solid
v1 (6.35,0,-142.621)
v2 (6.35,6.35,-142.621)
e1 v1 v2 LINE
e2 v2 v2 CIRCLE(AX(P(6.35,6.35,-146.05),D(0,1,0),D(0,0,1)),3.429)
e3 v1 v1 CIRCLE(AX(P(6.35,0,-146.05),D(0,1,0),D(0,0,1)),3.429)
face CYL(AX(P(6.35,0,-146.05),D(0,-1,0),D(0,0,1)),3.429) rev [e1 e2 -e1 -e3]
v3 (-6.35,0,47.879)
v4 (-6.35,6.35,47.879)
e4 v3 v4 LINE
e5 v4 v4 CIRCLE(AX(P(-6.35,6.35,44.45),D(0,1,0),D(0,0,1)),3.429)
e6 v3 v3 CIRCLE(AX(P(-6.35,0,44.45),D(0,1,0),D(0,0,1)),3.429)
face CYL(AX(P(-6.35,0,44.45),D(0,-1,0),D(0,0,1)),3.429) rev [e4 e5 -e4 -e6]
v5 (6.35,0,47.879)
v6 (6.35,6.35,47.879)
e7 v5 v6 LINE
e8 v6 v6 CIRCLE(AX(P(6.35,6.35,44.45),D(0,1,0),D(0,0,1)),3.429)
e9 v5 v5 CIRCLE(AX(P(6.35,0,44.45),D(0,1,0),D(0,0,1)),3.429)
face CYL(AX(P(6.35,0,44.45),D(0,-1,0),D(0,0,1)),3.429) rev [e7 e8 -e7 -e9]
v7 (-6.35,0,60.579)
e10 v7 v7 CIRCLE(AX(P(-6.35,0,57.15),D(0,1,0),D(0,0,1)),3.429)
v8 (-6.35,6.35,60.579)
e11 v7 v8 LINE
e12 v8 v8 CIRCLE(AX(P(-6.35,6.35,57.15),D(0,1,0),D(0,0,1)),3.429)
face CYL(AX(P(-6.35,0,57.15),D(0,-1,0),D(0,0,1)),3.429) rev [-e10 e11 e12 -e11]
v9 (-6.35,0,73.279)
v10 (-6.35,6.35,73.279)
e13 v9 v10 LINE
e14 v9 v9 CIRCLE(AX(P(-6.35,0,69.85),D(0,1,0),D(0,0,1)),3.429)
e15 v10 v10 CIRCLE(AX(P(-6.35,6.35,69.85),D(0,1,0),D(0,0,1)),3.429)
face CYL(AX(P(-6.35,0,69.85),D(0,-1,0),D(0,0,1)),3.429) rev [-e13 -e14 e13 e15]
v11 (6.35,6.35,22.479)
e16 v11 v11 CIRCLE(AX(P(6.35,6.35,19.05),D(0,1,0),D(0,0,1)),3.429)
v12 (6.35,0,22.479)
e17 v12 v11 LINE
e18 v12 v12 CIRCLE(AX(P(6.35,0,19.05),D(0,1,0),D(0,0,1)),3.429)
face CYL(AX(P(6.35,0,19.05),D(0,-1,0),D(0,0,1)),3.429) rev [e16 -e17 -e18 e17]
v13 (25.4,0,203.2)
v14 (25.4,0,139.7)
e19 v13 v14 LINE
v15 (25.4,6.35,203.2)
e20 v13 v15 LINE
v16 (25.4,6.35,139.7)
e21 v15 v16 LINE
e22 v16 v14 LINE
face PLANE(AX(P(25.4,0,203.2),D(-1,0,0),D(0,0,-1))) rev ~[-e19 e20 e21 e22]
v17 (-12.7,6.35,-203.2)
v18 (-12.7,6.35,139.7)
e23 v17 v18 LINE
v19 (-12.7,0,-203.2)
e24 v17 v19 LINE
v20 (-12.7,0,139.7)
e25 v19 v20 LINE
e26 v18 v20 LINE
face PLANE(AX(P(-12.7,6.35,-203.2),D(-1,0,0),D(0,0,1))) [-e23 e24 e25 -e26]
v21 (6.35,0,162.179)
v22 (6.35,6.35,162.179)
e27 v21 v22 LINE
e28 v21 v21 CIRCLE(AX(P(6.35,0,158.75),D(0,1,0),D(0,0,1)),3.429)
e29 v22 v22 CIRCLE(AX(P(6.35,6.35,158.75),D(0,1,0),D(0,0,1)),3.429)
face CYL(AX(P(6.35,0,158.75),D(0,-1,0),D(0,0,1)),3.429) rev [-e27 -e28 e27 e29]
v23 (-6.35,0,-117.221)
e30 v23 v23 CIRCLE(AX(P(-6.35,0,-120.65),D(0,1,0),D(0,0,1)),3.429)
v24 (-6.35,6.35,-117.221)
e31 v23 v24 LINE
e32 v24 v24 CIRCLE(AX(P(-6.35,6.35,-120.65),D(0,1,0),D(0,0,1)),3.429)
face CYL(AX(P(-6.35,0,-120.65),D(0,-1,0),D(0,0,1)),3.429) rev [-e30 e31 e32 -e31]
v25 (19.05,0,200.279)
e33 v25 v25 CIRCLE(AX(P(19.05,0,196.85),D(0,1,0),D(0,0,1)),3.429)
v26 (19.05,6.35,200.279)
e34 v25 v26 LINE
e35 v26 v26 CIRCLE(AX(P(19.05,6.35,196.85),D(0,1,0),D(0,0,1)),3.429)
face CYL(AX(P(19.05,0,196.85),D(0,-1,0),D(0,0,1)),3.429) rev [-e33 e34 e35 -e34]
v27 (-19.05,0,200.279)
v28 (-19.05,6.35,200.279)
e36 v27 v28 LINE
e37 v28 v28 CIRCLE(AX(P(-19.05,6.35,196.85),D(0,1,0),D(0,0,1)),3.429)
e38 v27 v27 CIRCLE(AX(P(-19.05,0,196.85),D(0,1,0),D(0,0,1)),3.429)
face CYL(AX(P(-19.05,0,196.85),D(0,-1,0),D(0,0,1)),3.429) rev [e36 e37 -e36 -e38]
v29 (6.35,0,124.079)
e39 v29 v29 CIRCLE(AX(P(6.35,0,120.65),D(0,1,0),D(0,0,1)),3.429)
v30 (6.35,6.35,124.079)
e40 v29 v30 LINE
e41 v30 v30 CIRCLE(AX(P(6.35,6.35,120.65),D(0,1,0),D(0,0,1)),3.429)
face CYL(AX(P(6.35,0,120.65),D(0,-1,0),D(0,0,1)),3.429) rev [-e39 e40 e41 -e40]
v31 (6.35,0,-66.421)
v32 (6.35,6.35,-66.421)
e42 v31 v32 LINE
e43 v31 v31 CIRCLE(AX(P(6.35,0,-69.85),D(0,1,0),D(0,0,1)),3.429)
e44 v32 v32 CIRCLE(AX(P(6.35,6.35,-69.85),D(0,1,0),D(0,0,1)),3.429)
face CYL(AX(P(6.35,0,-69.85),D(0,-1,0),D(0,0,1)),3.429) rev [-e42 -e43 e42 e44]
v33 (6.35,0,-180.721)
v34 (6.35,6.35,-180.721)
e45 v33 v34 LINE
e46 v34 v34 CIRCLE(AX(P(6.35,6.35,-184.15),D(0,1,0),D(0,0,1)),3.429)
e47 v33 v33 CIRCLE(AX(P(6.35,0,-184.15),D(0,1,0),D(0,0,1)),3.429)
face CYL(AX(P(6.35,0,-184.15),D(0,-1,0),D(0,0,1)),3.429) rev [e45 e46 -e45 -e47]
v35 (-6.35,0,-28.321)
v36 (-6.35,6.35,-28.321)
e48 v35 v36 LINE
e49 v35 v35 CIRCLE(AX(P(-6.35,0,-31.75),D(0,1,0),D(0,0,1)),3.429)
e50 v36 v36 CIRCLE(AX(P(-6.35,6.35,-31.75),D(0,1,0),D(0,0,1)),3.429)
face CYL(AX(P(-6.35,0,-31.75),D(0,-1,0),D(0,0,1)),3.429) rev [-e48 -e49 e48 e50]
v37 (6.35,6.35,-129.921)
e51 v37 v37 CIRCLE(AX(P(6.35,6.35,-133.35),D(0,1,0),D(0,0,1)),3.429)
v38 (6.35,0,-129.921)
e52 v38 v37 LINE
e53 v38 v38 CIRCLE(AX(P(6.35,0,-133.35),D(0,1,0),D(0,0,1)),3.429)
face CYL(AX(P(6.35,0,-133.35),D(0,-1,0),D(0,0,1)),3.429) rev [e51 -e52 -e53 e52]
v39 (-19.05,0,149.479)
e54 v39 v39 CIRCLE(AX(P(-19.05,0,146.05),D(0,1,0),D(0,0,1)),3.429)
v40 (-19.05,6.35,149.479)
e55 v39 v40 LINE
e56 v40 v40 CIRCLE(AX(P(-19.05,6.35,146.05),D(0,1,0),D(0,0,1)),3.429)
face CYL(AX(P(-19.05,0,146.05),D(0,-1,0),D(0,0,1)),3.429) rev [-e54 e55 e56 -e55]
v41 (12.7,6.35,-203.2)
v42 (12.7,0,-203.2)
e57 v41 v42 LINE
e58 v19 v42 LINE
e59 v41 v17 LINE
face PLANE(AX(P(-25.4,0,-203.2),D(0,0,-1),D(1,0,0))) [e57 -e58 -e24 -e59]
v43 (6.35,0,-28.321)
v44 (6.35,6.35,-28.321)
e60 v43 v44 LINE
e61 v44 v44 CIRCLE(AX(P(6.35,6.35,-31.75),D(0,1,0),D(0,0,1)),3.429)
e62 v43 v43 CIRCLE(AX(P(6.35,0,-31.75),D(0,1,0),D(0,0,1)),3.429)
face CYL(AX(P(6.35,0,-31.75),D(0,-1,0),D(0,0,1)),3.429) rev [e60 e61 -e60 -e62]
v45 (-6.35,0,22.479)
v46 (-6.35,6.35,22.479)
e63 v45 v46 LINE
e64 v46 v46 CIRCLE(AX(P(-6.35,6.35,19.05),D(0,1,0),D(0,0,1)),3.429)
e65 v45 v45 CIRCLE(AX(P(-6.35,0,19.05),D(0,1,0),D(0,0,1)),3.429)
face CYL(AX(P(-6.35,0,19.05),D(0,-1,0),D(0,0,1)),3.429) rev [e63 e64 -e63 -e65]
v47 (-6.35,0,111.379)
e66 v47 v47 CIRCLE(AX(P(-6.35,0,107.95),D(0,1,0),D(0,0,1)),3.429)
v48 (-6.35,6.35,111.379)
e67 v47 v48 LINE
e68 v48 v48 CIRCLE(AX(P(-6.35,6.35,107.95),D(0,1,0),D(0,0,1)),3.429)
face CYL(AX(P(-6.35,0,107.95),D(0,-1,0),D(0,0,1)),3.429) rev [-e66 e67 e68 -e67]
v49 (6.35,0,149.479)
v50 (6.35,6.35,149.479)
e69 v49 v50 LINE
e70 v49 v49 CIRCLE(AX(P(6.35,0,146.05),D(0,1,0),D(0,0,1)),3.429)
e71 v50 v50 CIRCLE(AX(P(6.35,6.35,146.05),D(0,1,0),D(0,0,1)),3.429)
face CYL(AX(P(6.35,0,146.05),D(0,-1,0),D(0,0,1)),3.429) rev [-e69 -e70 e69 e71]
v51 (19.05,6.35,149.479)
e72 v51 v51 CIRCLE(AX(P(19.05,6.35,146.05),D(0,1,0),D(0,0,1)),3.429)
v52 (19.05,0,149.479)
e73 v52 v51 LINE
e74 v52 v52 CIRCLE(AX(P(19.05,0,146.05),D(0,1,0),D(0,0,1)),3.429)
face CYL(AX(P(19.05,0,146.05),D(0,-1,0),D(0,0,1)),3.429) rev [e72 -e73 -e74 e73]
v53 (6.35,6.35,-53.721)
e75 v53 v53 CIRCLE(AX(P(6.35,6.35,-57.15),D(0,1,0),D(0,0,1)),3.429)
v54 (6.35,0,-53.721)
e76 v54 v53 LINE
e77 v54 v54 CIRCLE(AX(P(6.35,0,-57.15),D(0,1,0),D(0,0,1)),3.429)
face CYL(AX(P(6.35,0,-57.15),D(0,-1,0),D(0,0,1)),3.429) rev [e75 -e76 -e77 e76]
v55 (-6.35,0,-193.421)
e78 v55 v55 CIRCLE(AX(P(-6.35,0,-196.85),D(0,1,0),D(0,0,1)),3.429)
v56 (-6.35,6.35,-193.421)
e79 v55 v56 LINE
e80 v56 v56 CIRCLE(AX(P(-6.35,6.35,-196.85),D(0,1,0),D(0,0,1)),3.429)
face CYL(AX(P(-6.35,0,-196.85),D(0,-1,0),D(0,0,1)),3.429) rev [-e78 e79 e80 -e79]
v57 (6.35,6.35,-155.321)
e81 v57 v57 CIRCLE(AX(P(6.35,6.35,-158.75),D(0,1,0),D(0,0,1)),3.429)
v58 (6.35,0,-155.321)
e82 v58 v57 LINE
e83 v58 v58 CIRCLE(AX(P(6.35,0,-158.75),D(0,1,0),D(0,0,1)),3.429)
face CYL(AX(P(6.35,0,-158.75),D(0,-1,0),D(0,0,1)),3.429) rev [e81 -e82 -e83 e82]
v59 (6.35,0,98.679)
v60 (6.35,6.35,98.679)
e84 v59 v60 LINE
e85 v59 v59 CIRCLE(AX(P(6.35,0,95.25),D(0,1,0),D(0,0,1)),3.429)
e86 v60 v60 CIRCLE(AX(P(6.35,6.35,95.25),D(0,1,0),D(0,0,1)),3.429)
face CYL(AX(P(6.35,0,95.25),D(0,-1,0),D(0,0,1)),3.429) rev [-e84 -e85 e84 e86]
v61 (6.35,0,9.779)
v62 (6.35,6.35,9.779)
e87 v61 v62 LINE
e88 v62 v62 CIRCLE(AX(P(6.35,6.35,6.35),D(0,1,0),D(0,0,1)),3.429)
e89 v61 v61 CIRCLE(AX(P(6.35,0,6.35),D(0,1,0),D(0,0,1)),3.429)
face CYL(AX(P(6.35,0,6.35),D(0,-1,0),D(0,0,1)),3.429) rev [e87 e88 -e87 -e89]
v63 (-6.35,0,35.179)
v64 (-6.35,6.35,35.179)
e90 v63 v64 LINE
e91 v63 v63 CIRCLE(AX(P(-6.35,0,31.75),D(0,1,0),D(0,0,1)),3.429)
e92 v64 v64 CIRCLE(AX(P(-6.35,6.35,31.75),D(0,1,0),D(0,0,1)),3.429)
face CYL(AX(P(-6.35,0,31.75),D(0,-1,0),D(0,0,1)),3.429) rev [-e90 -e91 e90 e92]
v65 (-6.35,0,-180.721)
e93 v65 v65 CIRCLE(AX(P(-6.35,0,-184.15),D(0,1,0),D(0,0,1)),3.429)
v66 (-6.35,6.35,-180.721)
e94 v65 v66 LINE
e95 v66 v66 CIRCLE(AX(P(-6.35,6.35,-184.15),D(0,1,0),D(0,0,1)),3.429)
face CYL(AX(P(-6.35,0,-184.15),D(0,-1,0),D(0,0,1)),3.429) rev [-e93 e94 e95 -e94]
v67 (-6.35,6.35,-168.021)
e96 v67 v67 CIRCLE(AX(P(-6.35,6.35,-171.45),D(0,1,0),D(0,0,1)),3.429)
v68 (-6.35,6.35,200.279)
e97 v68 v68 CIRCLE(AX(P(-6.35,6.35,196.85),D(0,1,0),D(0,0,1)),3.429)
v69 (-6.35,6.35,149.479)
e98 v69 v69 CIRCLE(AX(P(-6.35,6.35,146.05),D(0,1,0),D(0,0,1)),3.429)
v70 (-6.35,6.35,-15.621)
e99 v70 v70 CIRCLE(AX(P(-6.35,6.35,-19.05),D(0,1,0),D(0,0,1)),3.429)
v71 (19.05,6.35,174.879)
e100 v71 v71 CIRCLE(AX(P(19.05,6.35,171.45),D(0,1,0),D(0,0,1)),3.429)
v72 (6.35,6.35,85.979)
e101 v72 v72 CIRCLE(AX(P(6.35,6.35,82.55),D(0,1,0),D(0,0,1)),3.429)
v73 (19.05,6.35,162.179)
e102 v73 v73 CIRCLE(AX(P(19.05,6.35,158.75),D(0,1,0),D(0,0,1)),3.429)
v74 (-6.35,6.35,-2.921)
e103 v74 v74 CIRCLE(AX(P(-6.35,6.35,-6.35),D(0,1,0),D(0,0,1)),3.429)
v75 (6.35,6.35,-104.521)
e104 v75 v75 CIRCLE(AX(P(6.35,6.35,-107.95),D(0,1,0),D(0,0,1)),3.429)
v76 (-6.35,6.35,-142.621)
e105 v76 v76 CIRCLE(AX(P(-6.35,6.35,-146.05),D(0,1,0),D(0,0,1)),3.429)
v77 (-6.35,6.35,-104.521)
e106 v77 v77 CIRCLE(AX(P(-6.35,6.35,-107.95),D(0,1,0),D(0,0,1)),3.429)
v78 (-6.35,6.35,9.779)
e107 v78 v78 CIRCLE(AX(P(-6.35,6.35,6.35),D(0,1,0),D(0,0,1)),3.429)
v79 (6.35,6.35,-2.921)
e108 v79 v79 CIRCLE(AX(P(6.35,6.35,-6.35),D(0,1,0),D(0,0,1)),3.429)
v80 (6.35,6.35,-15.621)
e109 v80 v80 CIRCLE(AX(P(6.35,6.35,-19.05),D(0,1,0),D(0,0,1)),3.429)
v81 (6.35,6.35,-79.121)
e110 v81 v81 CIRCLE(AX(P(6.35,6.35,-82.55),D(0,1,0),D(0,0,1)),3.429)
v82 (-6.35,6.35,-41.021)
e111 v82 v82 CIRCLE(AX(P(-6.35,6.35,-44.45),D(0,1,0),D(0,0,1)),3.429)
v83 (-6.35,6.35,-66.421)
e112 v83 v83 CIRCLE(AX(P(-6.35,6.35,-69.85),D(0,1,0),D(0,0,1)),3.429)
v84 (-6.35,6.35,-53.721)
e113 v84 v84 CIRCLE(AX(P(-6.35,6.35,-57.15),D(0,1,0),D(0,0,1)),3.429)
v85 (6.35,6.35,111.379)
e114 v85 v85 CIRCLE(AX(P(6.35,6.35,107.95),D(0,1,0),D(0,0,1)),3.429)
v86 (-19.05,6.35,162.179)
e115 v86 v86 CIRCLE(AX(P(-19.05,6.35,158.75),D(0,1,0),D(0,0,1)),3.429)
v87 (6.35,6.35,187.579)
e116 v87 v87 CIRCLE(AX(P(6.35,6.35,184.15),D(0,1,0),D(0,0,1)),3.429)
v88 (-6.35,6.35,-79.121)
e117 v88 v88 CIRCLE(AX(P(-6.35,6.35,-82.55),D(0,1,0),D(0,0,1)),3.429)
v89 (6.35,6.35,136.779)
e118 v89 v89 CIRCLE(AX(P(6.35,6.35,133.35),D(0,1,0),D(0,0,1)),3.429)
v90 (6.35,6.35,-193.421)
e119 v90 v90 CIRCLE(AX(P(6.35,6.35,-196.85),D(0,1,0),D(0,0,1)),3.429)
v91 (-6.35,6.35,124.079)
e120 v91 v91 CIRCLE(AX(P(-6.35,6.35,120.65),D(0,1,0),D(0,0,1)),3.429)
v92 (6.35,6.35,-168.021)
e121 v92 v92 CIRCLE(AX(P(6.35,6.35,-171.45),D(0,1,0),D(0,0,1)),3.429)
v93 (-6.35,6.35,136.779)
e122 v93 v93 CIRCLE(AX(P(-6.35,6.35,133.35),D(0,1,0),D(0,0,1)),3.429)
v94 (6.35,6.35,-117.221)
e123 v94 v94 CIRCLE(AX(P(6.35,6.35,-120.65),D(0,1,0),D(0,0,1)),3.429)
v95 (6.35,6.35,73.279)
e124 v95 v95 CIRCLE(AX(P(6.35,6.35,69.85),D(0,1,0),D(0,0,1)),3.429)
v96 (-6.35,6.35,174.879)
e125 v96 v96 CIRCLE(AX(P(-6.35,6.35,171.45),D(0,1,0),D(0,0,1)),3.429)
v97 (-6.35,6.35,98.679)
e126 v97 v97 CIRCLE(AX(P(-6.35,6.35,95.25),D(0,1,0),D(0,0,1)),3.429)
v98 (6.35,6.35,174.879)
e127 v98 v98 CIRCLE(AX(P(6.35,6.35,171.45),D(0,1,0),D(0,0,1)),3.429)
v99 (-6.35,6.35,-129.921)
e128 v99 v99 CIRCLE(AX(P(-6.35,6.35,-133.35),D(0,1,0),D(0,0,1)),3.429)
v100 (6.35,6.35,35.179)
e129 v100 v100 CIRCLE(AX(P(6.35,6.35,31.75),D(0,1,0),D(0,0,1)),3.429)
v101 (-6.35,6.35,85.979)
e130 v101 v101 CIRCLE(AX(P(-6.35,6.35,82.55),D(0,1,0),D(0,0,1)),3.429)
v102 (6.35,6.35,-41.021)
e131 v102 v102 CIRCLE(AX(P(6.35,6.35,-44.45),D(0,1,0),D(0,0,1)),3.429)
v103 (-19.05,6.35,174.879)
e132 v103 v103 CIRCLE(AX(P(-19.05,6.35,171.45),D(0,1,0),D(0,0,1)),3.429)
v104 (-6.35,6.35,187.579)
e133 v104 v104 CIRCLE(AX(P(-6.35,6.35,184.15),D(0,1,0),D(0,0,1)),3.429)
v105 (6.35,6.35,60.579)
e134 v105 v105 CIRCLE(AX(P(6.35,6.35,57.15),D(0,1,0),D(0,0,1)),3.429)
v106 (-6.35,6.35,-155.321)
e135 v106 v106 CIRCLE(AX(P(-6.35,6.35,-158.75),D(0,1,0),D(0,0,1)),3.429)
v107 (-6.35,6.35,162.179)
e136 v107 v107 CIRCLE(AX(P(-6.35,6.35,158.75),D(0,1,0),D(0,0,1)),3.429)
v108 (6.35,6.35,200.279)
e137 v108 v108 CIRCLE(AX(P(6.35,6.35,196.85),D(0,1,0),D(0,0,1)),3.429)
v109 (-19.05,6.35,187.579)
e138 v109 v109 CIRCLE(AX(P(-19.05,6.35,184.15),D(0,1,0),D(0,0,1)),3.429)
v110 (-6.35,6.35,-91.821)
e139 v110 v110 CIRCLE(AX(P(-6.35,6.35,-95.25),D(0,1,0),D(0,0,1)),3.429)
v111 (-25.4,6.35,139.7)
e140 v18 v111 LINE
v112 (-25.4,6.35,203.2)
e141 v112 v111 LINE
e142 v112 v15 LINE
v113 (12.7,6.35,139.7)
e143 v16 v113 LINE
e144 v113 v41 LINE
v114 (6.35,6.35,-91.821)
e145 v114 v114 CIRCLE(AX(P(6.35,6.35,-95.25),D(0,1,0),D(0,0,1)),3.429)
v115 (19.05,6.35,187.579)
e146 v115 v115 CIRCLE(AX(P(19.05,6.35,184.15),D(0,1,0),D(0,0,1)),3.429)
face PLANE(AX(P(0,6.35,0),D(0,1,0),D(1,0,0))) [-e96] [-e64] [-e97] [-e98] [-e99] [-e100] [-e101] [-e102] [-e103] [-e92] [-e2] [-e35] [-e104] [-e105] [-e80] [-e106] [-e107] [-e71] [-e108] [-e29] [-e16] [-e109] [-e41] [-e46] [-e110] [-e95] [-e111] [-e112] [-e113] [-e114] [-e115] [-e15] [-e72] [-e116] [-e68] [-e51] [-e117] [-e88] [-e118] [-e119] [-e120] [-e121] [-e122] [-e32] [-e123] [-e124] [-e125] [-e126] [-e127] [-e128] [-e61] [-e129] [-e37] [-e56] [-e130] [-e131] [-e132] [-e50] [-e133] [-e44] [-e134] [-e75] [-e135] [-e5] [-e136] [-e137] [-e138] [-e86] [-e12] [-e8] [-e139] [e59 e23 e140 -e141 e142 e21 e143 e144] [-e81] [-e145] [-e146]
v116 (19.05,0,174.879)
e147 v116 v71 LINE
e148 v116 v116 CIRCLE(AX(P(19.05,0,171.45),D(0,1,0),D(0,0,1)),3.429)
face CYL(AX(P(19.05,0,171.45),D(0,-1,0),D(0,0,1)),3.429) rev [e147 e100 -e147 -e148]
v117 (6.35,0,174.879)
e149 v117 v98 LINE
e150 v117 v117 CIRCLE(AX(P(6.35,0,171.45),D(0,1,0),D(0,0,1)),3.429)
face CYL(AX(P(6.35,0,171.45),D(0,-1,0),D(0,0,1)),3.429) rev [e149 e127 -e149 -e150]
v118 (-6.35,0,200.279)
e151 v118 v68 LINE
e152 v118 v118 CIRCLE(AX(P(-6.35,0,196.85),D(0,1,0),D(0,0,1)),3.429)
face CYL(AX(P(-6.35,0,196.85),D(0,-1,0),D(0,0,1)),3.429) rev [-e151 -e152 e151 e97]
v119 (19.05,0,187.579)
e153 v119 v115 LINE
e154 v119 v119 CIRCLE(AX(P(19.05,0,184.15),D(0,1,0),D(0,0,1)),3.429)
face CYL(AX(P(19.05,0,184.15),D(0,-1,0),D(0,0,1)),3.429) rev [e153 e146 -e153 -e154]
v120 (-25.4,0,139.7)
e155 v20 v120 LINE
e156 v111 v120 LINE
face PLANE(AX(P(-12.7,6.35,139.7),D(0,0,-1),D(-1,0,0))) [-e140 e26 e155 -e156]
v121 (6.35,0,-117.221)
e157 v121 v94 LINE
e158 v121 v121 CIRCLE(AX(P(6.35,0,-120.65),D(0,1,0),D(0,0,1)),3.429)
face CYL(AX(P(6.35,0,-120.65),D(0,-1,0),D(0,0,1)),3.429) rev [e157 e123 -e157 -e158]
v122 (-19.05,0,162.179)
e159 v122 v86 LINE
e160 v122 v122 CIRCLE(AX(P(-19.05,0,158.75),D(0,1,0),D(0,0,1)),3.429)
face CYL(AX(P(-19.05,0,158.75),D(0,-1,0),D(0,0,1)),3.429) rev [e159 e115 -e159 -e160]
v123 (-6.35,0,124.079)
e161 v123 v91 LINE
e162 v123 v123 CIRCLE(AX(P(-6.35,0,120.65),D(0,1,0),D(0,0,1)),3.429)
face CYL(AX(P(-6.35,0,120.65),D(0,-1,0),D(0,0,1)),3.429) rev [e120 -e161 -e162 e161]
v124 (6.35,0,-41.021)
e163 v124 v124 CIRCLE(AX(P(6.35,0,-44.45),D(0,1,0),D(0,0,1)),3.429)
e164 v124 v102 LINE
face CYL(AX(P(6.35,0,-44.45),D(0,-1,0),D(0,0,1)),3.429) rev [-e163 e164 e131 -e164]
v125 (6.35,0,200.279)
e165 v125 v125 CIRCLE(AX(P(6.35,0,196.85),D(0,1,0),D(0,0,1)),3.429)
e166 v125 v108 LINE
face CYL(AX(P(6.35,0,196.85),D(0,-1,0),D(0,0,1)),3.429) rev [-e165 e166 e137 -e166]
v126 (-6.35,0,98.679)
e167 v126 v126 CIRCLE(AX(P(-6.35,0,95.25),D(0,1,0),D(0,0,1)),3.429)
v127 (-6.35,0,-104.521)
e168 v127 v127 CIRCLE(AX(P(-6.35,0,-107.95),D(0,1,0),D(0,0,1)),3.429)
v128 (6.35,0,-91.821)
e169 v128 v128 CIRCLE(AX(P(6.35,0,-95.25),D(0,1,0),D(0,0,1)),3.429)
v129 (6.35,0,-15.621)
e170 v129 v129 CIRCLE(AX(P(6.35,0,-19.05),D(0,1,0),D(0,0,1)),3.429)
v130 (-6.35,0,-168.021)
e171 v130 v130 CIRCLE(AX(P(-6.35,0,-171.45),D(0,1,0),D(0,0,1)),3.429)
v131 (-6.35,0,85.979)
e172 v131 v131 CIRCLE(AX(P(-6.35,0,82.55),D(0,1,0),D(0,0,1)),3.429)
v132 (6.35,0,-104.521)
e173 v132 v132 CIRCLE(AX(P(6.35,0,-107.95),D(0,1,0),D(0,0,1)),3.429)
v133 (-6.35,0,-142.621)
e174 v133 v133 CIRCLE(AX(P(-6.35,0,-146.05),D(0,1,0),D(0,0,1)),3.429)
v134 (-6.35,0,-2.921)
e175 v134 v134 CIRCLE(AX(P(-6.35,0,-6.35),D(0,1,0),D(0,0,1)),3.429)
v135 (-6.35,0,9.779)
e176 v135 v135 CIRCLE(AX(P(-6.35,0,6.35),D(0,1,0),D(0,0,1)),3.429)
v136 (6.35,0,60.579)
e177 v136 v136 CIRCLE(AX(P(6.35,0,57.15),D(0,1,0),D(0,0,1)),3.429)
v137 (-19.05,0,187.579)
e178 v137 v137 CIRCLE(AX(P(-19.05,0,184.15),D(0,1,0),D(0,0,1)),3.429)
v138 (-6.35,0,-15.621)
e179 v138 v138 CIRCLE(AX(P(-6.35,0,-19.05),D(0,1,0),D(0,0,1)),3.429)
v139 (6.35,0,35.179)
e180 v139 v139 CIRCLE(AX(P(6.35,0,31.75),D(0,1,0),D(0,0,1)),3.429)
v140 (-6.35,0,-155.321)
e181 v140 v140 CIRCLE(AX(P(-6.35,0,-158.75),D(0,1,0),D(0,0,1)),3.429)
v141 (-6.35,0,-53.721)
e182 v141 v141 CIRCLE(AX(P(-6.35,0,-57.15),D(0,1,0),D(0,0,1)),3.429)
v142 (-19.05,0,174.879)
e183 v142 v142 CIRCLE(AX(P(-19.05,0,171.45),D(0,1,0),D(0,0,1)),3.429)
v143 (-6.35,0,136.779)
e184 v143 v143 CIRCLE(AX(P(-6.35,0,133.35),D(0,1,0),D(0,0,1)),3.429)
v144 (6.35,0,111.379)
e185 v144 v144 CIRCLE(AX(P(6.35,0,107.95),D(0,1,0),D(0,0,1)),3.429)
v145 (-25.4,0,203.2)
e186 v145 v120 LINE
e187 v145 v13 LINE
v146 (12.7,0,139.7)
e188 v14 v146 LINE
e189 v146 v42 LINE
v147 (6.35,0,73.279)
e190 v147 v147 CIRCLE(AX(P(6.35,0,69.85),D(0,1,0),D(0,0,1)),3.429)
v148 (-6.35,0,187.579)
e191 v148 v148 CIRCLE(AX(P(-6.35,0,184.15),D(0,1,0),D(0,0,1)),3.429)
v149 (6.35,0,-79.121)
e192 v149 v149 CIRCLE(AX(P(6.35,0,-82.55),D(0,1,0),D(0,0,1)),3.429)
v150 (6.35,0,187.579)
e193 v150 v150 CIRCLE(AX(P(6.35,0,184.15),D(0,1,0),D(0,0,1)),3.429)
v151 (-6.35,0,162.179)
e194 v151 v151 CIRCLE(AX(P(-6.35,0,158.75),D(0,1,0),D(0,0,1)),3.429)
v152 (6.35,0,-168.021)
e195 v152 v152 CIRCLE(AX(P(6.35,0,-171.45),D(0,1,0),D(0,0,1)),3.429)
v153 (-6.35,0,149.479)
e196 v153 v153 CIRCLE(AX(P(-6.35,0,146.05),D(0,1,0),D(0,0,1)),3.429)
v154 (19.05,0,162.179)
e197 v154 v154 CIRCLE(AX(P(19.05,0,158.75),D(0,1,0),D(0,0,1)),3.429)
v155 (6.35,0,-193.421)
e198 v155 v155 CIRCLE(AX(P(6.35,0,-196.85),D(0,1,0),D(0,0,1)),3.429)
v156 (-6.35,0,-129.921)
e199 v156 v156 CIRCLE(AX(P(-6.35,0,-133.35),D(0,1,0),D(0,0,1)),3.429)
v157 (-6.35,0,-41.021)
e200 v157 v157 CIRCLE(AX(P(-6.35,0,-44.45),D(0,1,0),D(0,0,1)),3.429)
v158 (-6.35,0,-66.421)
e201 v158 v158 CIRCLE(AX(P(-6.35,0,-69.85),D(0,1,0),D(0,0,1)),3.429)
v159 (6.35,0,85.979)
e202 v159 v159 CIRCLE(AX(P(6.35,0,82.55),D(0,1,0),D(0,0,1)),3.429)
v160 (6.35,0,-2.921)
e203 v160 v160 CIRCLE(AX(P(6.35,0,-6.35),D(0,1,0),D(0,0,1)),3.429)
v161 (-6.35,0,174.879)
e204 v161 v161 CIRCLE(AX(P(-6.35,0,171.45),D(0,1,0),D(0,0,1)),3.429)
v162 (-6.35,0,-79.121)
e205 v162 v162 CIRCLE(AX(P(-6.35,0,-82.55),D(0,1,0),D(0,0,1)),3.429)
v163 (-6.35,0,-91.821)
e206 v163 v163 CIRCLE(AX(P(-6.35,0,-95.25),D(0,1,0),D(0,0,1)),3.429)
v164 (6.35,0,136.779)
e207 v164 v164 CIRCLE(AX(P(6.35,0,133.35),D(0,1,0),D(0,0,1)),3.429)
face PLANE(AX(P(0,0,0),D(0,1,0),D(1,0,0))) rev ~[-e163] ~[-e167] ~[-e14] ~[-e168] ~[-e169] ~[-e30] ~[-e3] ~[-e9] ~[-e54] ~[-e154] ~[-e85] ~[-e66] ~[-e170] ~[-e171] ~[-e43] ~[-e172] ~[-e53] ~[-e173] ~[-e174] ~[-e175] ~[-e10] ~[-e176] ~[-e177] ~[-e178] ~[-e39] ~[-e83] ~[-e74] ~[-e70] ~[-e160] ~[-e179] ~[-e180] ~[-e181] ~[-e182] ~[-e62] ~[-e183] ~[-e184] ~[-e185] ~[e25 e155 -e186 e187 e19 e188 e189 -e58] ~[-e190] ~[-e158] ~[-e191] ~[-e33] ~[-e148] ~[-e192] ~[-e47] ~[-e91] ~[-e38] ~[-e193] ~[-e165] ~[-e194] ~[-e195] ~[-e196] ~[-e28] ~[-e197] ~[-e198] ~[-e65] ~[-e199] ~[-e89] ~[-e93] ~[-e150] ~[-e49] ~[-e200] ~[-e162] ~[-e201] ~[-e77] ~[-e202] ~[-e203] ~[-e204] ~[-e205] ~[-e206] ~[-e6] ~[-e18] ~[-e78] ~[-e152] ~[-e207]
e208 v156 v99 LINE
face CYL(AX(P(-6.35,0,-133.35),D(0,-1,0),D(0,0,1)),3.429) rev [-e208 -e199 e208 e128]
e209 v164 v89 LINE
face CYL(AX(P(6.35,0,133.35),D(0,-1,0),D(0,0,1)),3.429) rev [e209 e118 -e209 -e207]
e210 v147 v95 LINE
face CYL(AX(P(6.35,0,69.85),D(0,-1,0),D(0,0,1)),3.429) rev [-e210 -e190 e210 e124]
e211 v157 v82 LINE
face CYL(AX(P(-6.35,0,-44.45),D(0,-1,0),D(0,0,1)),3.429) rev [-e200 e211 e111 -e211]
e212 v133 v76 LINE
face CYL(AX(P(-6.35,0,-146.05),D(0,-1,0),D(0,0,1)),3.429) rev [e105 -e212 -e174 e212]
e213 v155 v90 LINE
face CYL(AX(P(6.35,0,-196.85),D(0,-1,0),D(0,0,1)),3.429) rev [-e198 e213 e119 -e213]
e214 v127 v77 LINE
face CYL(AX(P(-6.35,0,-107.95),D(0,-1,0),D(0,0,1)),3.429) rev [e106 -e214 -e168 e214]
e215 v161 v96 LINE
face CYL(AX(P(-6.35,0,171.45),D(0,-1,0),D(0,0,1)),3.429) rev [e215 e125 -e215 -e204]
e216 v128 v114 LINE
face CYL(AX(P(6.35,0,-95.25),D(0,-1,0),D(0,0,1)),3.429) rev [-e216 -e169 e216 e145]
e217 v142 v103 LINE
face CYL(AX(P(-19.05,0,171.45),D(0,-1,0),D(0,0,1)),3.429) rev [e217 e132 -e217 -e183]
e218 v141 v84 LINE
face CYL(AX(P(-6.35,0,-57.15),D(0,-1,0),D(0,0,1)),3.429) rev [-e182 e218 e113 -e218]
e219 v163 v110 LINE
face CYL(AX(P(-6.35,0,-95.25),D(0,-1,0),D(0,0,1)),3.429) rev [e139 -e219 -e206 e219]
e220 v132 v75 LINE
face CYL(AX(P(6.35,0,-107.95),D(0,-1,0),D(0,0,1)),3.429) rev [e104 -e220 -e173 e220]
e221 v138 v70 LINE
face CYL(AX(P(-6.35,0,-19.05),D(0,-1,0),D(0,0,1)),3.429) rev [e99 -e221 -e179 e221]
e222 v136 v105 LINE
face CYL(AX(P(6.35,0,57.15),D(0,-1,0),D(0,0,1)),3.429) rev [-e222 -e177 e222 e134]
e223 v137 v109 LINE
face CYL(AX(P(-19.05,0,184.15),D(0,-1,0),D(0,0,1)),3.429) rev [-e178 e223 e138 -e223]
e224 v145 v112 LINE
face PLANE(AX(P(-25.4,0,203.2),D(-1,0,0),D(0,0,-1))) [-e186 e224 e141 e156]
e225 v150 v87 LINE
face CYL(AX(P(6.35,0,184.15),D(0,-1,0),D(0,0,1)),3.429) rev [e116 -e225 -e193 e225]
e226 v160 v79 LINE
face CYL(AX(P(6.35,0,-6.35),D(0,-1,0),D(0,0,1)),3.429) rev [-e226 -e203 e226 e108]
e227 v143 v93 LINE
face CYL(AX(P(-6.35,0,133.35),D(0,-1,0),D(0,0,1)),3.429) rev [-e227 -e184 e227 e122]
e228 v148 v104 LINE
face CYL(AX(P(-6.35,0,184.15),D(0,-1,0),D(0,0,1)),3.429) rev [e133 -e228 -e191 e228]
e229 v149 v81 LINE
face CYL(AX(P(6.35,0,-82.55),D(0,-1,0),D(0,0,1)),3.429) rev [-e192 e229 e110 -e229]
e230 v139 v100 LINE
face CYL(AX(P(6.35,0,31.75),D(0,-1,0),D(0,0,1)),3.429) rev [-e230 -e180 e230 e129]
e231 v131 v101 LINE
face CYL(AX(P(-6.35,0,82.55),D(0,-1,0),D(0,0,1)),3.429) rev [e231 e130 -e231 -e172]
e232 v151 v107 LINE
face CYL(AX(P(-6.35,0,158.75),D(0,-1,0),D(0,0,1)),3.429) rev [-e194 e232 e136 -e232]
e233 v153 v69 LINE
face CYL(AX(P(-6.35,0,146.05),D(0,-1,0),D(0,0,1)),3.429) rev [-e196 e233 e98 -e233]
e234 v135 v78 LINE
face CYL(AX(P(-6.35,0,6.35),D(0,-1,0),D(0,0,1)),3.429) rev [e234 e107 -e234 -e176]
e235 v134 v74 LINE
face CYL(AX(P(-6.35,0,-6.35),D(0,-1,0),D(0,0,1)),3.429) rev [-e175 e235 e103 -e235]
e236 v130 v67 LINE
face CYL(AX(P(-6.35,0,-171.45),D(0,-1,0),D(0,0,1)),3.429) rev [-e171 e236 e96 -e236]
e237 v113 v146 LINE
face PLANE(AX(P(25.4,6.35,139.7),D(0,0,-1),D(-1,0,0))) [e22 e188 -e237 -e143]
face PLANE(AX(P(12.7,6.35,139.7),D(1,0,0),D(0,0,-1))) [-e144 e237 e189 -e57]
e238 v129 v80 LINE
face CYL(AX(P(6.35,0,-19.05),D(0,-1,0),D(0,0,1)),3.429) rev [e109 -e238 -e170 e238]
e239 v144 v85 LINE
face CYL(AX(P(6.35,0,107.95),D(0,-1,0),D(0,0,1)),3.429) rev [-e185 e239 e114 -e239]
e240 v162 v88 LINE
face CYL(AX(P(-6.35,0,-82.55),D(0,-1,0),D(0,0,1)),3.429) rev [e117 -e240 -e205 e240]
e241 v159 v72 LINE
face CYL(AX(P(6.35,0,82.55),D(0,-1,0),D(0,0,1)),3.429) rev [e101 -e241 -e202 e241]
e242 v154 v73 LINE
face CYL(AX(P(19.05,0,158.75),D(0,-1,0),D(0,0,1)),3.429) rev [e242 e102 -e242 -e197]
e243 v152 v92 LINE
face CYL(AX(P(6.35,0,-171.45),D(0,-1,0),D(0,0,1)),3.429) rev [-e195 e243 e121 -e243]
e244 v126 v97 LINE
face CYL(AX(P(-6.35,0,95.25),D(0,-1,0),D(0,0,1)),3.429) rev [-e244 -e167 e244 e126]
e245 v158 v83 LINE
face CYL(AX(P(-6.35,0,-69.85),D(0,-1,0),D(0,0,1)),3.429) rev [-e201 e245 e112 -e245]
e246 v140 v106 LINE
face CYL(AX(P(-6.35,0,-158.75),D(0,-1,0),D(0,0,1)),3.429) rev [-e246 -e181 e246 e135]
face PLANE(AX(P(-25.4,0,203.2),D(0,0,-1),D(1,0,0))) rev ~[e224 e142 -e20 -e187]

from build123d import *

# Parameters (mm, degrees)
SKETCH1_W           = 50.8
SKETCH1_H           = 406.4
SKETCH1_R           = 3.429
BOSS_EXTRUDE1_DEPTH = 6.35
SKETCH2_OUTSIDE_W   = 134.722
SKETCH2_OUTSIDE_H   = 490.322
CUT_EXTRUDE1_DEPTH  = 205.879775722


with BuildPart() as part:
    # Sketch1 → Boss-Extrude1 (new body)
    with BuildSketch(Plane(origin=(0, 0, 0), x_dir=(1, 0, 0), z_dir=(0, 1, 0))):
        Rectangle(SKETCH1_W, SKETCH1_H)
        with Locations(Location((-19.05, 196.85, 0), (0, 0, 270))):
            Circle(SKETCH1_R, mode=Mode.SUBTRACT)
        with Locations(Location((-6.35, 196.85, 0), (0, 0, 270))):
            Circle(SKETCH1_R, mode=Mode.SUBTRACT)
        with Locations(Location((6.35, 196.85, 0), (0, 0, 270))):
            Circle(SKETCH1_R, mode=Mode.SUBTRACT)
        with Locations(Location((19.05, 196.85, 0), (0, 0, 270))):
            Circle(SKETCH1_R, mode=Mode.SUBTRACT)
        with Locations(Location((-6.35, 184.15, 0), (0, 0, 270))):
            Circle(SKETCH1_R, mode=Mode.SUBTRACT)
        with Locations(Location((6.35, 184.15, 0), (0, 0, 270))):
            Circle(SKETCH1_R, mode=Mode.SUBTRACT)
        with Locations(Location((19.05, 184.15, 0), (0, 0, 270))):
            Circle(SKETCH1_R, mode=Mode.SUBTRACT)
        with Locations(Location((-6.35, 171.45, 0), (0, 0, 270))):
            Circle(SKETCH1_R, mode=Mode.SUBTRACT)
        with Locations(Location((6.35, 171.45, 0), (0, 0, 270))):
            Circle(SKETCH1_R, mode=Mode.SUBTRACT)
        with Locations(Location((19.05, 171.45, 0), (0, 0, 270))):
            Circle(SKETCH1_R, mode=Mode.SUBTRACT)
        with Locations(Location((-6.35, 158.75, 0), (0, 0, 270))):
            Circle(SKETCH1_R, mode=Mode.SUBTRACT)
        with Locations(Location((6.35, 158.75, 0), (0, 0, 270))):
            Circle(SKETCH1_R, mode=Mode.SUBTRACT)
        with Locations(Location((19.05, 158.75, 0), (0, 0, 270))):
            Circle(SKETCH1_R, mode=Mode.SUBTRACT)
        with Locations(Location((-6.35, 146.05, 0), (0, 0, 270))):
            Circle(SKETCH1_R, mode=Mode.SUBTRACT)
        with Locations(Location((6.35, 146.05, 0), (0, 0, 270))):
            Circle(SKETCH1_R, mode=Mode.SUBTRACT)
        with Locations(Location((19.05, 146.05, 0), (0, 0, 270))):
            Circle(SKETCH1_R, mode=Mode.SUBTRACT)
        with Locations(Location((-6.35, 133.35, 0), (0, 0, 270))):
            Circle(SKETCH1_R, mode=Mode.SUBTRACT)
        with Locations(Location((6.35, 133.35, 0), (0, 0, 270))):
            Circle(SKETCH1_R, mode=Mode.SUBTRACT)
        with Locations(Location((19.05, 133.35, 0), (0, 0, 270))):
            Circle(SKETCH1_R, mode=Mode.SUBTRACT)
        with Locations(Location((-6.35, 120.65, 0), (0, 0, 270))):
            Circle(SKETCH1_R, mode=Mode.SUBTRACT)
        with Locations(Location((6.35, 120.65, 0), (0, 0, 270))):
            Circle(SKETCH1_R, mode=Mode.SUBTRACT)
        with Locations(Location((19.05, 120.65, 0), (0, 0, 270))):
            Circle(SKETCH1_R, mode=Mode.SUBTRACT)
        with Locations(Location((-6.35, 107.95, 0), (0, 0, 270))):
            Circle(SKETCH1_R, mode=Mode.SUBTRACT)
        with Locations(Location((6.35, 107.95, 0), (0, 0, 270))):
            Circle(SKETCH1_R, mode=Mode.SUBTRACT)
        with Locations(Location((19.05, 107.95, 0), (0, 0, 270))):
            Circle(SKETCH1_R, mode=Mode.SUBTRACT)
        with Locations(Location((-6.35, 95.25, 0), (0, 0, 270))):
            Circle(SKETCH1_R, mode=Mode.SUBTRACT)
        with Locations(Location((6.35, 95.25, 0), (0, 0, 270))):
            Circle(SKETCH1_R, mode=Mode.SUBTRACT)
        with Locations(Location((19.05, 95.25, 0), (0, 0, 270))):
            Circle(SKETCH1_R, mode=Mode.SUBTRACT)
        with Locations(Location((-6.35, 82.55, 0), (0, 0, 270))):
            Circle(SKETCH1_R, mode=Mode.SUBTRACT)
        with Locations(Location((6.35, 82.55, 0), (0, 0, 270))):
            Circle(SKETCH1_R, mode=Mode.SUBTRACT)
        with Locations(Location((19.05, 82.55, 0), (0, 0, 270))):
            Circle(SKETCH1_R, mode=Mode.SUBTRACT)
        with Locations(Location((-6.35, 69.85, 0), (0, 0, 270))):
            Circle(SKETCH1_R, mode=Mode.SUBTRACT)
        with Locations(Location((6.35, 69.85, 0), (0, 0, 270))):
            Circle(SKETCH1_R, mode=Mode.SUBTRACT)
        with Locations(Location((19.05, 69.85, 0), (0, 0, 270))):
            Circle(SKETCH1_R, mode=Mode.SUBTRACT)
        with Locations(Location((-6.35, 57.15, 0), (0, 0, 270))):
            Circle(SKETCH1_R, mode=Mode.SUBTRACT)
        with Locations(Location((6.35, 57.15, 0), (0, 0, 270))):
            Circle(SKETCH1_R, mode=Mode.SUBTRACT)
        with Locations(Location((19.05, 57.15, 0), (0, 0, 270))):
            Circle(SKETCH1_R, mode=Mode.SUBTRACT)
        with Locations(Location((-6.35, 44.45, 0), (0, 0, 270))):
            Circle(SKETCH1_R, mode=Mode.SUBTRACT)
        with Locations(Location((6.35, 44.45, 0), (0, 0, 270))):
            Circle(SKETCH1_R, mode=Mode.SUBTRACT)
        with Locations(Location((19.05, 44.45, 0), (0, 0, 270))):
            Circle(SKETCH1_R, mode=Mode.SUBTRACT)
        with Locations(Location((-6.35, 31.75, 0), (0, 0, 270))):
            Circle(SKETCH1_R, mode=Mode.SUBTRACT)
        with Locations(Location((6.35, 31.75, 0), (0, 0, 270))):
            Circle(SKETCH1_R, mode=Mode.SUBTRACT)
        with Locations(Location((19.05, 31.75, 0), (0, 0, 270))):
            Circle(SKETCH1_R, mode=Mode.SUBTRACT)
        with Locations(Location((-6.35, 19.05, 0), (0, 0, 270))):
            Circle(SKETCH1_R, mode=Mode.SUBTRACT)
        with Locations(Location((6.35, 19.05, 0), (0, 0, 270))):
            Circle(SKETCH1_R, mode=Mode.SUBTRACT)
        with Locations(Location((19.05, 19.05, 0), (0, 0, 270))):
            Circle(SKETCH1_R, mode=Mode.SUBTRACT)
        with Locations(Location((-6.35, 6.35, 0), (0, 0, 270))):
            Circle(SKETCH1_R, mode=Mode.SUBTRACT)
        with Locations(Location((6.35, 6.35, 0), (0, 0, 270))):
            Circle(SKETCH1_R, mode=Mode.SUBTRACT)
        with Locations(Location((19.05, 6.35, 0), (0, 0, 270))):
            Circle(SKETCH1_R, mode=Mode.SUBTRACT)
        with Locations(Location((-6.35, -6.35, 0), (0, 0, 270))):
            Circle(SKETCH1_R, mode=Mode.SUBTRACT)
        with Locations(Location((6.35, -6.35, 0), (0, 0, 270))):
            Circle(SKETCH1_R, mode=Mode.SUBTRACT)
        with Locations(Location((19.05, -6.35, 0), (0, 0, 270))):
            Circle(SKETCH1_R, mode=Mode.SUBTRACT)
        with Locations(Location((-6.35, -19.05, 0), (0, 0, 270))):
            Circle(SKETCH1_R, mode=Mode.SUBTRACT)
        with Locations(Location((6.35, -19.05, 0), (0, 0, 270))):
            Circle(SKETCH1_R, mode=Mode.SUBTRACT)
        with Locations(Location((19.05, -19.05, 0), (0, 0, 270))):
            Circle(SKETCH1_R, mode=Mode.SUBTRACT)
        with Locations(Location((-6.35, -31.75, 0), (0, 0, 270))):
            Circle(SKETCH1_R, mode=Mode.SUBTRACT)
        with Locations(Location((6.35, -31.75, 0), (0, 0, 270))):
            Circle(SKETCH1_R, mode=Mode.SUBTRACT)
        with Locations(Location((19.05, -31.75, 0), (0, 0, 270))):
            Circle(SKETCH1_R, mode=Mode.SUBTRACT)
        with Locations(Location((-6.35, -44.45, 0), (0, 0, 270))):
            Circle(SKETCH1_R, mode=Mode.SUBTRACT)
        with Locations(Location((6.35, -44.45, 0), (0, 0, 270))):
            Circle(SKETCH1_R, mode=Mode.SUBTRACT)
        with Locations(Location((19.05, -44.45, 0), (0, 0, 270))):
            Circle(SKETCH1_R, mode=Mode.SUBTRACT)
        with Locations(Location((-19.05, 184.15, 0), (0, 0, 270))):
            Circle(SKETCH1_R, mode=Mode.SUBTRACT)
        with Locations(Location((-19.05, 171.45, 0), (0, 0, 270))):
            Circle(SKETCH1_R, mode=Mode.SUBTRACT)
        with Locations(Location((-19.05, 158.75, 0), (0, 0, 270))):
            Circle(SKETCH1_R, mode=Mode.SUBTRACT)
        with Locations(Location((-19.05, 146.05, 0), (0, 0, 270))):
            Circle(SKETCH1_R, mode=Mode.SUBTRACT)
        with Locations(Location((-19.05, 133.35, 0), (0, 0, 270))):
            Circle(SKETCH1_R, mode=Mode.SUBTRACT)
        with Locations(Location((-19.05, 120.65, 0), (0, 0, 270))):
            Circle(SKETCH1_R, mode=Mode.SUBTRACT)
        with Locations(Location((-19.05, 107.95, 0), (0, 0, 270))):
            Circle(SKETCH1_R, mode=Mode.SUBTRACT)
        with Locations(Location((-19.05, 95.25, 0), (0, 0, 270))):
            Circle(SKETCH1_R, mode=Mode.SUBTRACT)
        with Locations(Location((-19.05, 82.55, 0), (0, 0, 270))):
            Circle(SKETCH1_R, mode=Mode.SUBTRACT)
        with Locations(Location((-19.05, 69.85, 0), (0, 0, 270))):
            Circle(SKETCH1_R, mode=Mode.SUBTRACT)
        with Locations(Location((-19.05, 57.15, 0), (0, 0, 270))):
            Circle(SKETCH1_R, mode=Mode.SUBTRACT)
        with Locations(Location((-19.05, 44.45, 0), (0, 0, 270))):
            Circle(SKETCH1_R, mode=Mode.SUBTRACT)
        with Locations(Location((-19.05, 31.75, 0), (0, 0, 270))):
            Circle(SKETCH1_R, mode=Mode.SUBTRACT)
        with Locations(Location((-19.05, 19.05, 0), (0, 0, 270))):
            Circle(SKETCH1_R, mode=Mode.SUBTRACT)
        with Locations(Location((-19.05, 6.35, 0), (0, 0, 270))):
            Circle(SKETCH1_R, mode=Mode.SUBTRACT)
        with Locations(Location((-19.05, -6.35, 0), (0, 0, 270))):
            Circle(SKETCH1_R, mode=Mode.SUBTRACT)
        with Locations(Location((-19.05, -19.05, 0), (0, 0, 270))):
            Circle(SKETCH1_R, mode=Mode.SUBTRACT)
        with Locations(Location((-19.05, -31.75, 0), (0, 0, 270))):
            Circle(SKETCH1_R, mode=Mode.SUBTRACT)
        with Locations(Location((-19.05, -44.45, 0), (0, 0, 270))):
            Circle(SKETCH1_R, mode=Mode.SUBTRACT)
        with Locations(Location((-19.05, -57.15, 0), (0, 0, 270))):
            Circle(SKETCH1_R, mode=Mode.SUBTRACT)
        with Locations(Location((-6.35, -57.15, 0), (0, 0, 270))):
            Circle(SKETCH1_R, mode=Mode.SUBTRACT)
        with Locations(Location((6.35, -57.15, 0), (0, 0, 270))):
            Circle(SKETCH1_R, mode=Mode.SUBTRACT)
        with Locations(Location((19.05, -57.15, 0), (0, 0, 270))):
            Circle(SKETCH1_R, mode=Mode.SUBTRACT)
        with Locations(Location((-19.05, -69.85, 0), (0, 0, 270))):
            Circle(SKETCH1_R, mode=Mode.SUBTRACT)
        with Locations(Location((-6.35, -69.85, 0), (0, 0, 270))):
            Circle(SKETCH1_R, mode=Mode.SUBTRACT)
        with Locations(Location((6.35, -69.85, 0), (0, 0, 270))):
            Circle(SKETCH1_R, mode=Mode.SUBTRACT)
        with Locations(Location((19.05, -69.85, 0), (0, 0, 270))):
            Circle(SKETCH1_R, mode=Mode.SUBTRACT)
        with Locations(Location((-19.05, -82.55, 0), (0, 0, 270))):
            Circle(SKETCH1_R, mode=Mode.SUBTRACT)
        with Locations(Location((-6.35, -82.55, 0), (0, 0, 270))):
            Circle(SKETCH1_R, mode=Mode.SUBTRACT)
        with Locations(Location((6.35, -82.55, 0), (0, 0, 270))):
            Circle(SKETCH1_R, mode=Mode.SUBTRACT)
        with Locations(Location((19.05, -82.55, 0), (0, 0, 270))):
            Circle(SKETCH1_R, mode=Mode.SUBTRACT)
        with Locations(Location((-19.05, -95.25, 0), (0, 0, 270))):
            Circle(SKETCH1_R, mode=Mode.SUBTRACT)
        with Locations(Location((-6.35, -95.25, 0), (0, 0, 270))):
            Circle(SKETCH1_R, mode=Mode.SUBTRACT)
        with Locations(Location((6.35, -95.25, 0), (0, 0, 270))):
            Circle(SKETCH1_R, mode=Mode.SUBTRACT)
        with Locations(Location((19.05, -95.25, 0), (0, 0, 270))):
            Circle(SKETCH1_R, mode=Mode.SUBTRACT)
        with Locations(Location((-19.05, -107.95, 0), (0, 0, 270))):
            Circle(SKETCH1_R, mode=Mode.SUBTRACT)
        with Locations(Location((-6.35, -107.95, 0), (0, 0, 270))):
            Circle(SKETCH1_R, mode=Mode.SUBTRACT)
        with Locations(Location((6.35, -107.95, 0), (0, 0, 270))):
            Circle(SKETCH1_R, mode=Mode.SUBTRACT)
        with Locations(Location((19.05, -107.95, 0), (0, 0, 270))):
            Circle(SKETCH1_R, mode=Mode.SUBTRACT)
        with Locations(Location((-19.05, -120.65, 0), (0, 0, 270))):
            Circle(SKETCH1_R, mode=Mode.SUBTRACT)
        with Locations(Location((-6.35, -120.65, 0), (0, 0, 270))):
            Circle(SKETCH1_R, mode=Mode.SUBTRACT)
        with Locations(Location((6.35, -120.65, 0), (0, 0, 270))):
            Circle(SKETCH1_R, mode=Mode.SUBTRACT)
        with Locations(Location((19.05, -120.65, 0), (0, 0, 270))):
            Circle(SKETCH1_R, mode=Mode.SUBTRACT)
        with Locations(Location((-19.05, -133.35, 0), (0, 0, 270))):
            Circle(SKETCH1_R, mode=Mode.SUBTRACT)
        with Locations(Location((-6.35, -133.35, 0), (0, 0, 270))):
            Circle(SKETCH1_R, mode=Mode.SUBTRACT)
        with Locations(Location((6.35, -133.35, 0), (0, 0, 270))):
            Circle(SKETCH1_R, mode=Mode.SUBTRACT)
        with Locations(Location((19.05, -133.35, 0), (0, 0, 270))):
            Circle(SKETCH1_R, mode=Mode.SUBTRACT)
        with Locations(Location((-19.05, -146.05, 0), (0, 0, 270))):
            Circle(SKETCH1_R, mode=Mode.SUBTRACT)
        with Locations(Location((-6.35, -146.05, 0), (0, 0, 270))):
            Circle(SKETCH1_R, mode=Mode.SUBTRACT)
        with Locations(Location((6.35, -146.05, 0), (0, 0, 270))):
            Circle(SKETCH1_R, mode=Mode.SUBTRACT)
        with Locations(Location((19.05, -146.05, 0), (0, 0, 270))):
            Circle(SKETCH1_R, mode=Mode.SUBTRACT)
        with Locations(Location((-19.05, -158.75, 0), (0, 0, 270))):
            Circle(SKETCH1_R, mode=Mode.SUBTRACT)
        with Locations(Location((-6.35, -158.75, 0), (0, 0, 270))):
            Circle(SKETCH1_R, mode=Mode.SUBTRACT)
        with Locations(Location((6.35, -158.75, 0), (0, 0, 270))):
            Circle(SKETCH1_R, mode=Mode.SUBTRACT)
        with Locations(Location((19.05, -158.75, 0), (0, 0, 270))):
            Circle(SKETCH1_R, mode=Mode.SUBTRACT)
        with Locations(Location((-19.05, -171.45, 0), (0, 0, 270))):
            Circle(SKETCH1_R, mode=Mode.SUBTRACT)
        with Locations(Location((-6.35, -171.45, 0), (0, 0, 270))):
            Circle(SKETCH1_R, mode=Mode.SUBTRACT)
        with Locations(Location((6.35, -171.45, 0), (0, 0, 270))):
            Circle(SKETCH1_R, mode=Mode.SUBTRACT)
        with Locations(Location((19.05, -171.45, 0), (0, 0, 270))):
            Circle(SKETCH1_R, mode=Mode.SUBTRACT)
        with Locations(Location((-19.05, -184.15, 0), (0, 0, 270))):
            Circle(SKETCH1_R, mode=Mode.SUBTRACT)
        with Locations(Location((-6.35, -184.15, 0), (0, 0, 270))):
            Circle(SKETCH1_R, mode=Mode.SUBTRACT)
        with Locations(Location((6.35, -184.15, 0), (0, 0, 270))):
            Circle(SKETCH1_R, mode=Mode.SUBTRACT)
        with Locations(Location((19.05, -184.15, 0), (0, 0, 270))):
            Circle(SKETCH1_R, mode=Mode.SUBTRACT)
        with Locations(Location((-19.05, -196.85, 0), (0, 0, 270))):
            Circle(SKETCH1_R, mode=Mode.SUBTRACT)
        with Locations(Location((-6.35, -196.85, 0), (0, 0, 270))):
            Circle(SKETCH1_R, mode=Mode.SUBTRACT)
        with Locations(Location((6.35, -196.85, 0), (0, 0, 270))):
            Circle(SKETCH1_R, mode=Mode.SUBTRACT)
        with Locations(Location((19.05, -196.85, 0), (0, 0, 270))):
            Circle(SKETCH1_R, mode=Mode.SUBTRACT)
    extrude(amount=BOSS_EXTRUDE1_DEPTH)

    # Sketch2 outside → Cut-Extrude1 (cut, through all)
    with BuildSketch(Plane(origin=(0, 6.35, 0), x_dir=(1, 0, 0), z_dir=(0, 1, 0))):
        Rectangle(SKETCH2_OUTSIDE_W, SKETCH2_OUTSIDE_H)
        Polygon((-12.7, 203.2), (-12.7, -139.7), (-25.4, -139.7), (-25.4, -203.2), (25.4, -203.2), (25.4, -139.7), (12.7, -139.7), (12.7, 203.2), align=None, mode=Mode.SUBTRACT)
    extrude(amount=-CUT_EXTRUDE1_DEPTH, mode=Mode.SUBTRACT)


solid = part.part
